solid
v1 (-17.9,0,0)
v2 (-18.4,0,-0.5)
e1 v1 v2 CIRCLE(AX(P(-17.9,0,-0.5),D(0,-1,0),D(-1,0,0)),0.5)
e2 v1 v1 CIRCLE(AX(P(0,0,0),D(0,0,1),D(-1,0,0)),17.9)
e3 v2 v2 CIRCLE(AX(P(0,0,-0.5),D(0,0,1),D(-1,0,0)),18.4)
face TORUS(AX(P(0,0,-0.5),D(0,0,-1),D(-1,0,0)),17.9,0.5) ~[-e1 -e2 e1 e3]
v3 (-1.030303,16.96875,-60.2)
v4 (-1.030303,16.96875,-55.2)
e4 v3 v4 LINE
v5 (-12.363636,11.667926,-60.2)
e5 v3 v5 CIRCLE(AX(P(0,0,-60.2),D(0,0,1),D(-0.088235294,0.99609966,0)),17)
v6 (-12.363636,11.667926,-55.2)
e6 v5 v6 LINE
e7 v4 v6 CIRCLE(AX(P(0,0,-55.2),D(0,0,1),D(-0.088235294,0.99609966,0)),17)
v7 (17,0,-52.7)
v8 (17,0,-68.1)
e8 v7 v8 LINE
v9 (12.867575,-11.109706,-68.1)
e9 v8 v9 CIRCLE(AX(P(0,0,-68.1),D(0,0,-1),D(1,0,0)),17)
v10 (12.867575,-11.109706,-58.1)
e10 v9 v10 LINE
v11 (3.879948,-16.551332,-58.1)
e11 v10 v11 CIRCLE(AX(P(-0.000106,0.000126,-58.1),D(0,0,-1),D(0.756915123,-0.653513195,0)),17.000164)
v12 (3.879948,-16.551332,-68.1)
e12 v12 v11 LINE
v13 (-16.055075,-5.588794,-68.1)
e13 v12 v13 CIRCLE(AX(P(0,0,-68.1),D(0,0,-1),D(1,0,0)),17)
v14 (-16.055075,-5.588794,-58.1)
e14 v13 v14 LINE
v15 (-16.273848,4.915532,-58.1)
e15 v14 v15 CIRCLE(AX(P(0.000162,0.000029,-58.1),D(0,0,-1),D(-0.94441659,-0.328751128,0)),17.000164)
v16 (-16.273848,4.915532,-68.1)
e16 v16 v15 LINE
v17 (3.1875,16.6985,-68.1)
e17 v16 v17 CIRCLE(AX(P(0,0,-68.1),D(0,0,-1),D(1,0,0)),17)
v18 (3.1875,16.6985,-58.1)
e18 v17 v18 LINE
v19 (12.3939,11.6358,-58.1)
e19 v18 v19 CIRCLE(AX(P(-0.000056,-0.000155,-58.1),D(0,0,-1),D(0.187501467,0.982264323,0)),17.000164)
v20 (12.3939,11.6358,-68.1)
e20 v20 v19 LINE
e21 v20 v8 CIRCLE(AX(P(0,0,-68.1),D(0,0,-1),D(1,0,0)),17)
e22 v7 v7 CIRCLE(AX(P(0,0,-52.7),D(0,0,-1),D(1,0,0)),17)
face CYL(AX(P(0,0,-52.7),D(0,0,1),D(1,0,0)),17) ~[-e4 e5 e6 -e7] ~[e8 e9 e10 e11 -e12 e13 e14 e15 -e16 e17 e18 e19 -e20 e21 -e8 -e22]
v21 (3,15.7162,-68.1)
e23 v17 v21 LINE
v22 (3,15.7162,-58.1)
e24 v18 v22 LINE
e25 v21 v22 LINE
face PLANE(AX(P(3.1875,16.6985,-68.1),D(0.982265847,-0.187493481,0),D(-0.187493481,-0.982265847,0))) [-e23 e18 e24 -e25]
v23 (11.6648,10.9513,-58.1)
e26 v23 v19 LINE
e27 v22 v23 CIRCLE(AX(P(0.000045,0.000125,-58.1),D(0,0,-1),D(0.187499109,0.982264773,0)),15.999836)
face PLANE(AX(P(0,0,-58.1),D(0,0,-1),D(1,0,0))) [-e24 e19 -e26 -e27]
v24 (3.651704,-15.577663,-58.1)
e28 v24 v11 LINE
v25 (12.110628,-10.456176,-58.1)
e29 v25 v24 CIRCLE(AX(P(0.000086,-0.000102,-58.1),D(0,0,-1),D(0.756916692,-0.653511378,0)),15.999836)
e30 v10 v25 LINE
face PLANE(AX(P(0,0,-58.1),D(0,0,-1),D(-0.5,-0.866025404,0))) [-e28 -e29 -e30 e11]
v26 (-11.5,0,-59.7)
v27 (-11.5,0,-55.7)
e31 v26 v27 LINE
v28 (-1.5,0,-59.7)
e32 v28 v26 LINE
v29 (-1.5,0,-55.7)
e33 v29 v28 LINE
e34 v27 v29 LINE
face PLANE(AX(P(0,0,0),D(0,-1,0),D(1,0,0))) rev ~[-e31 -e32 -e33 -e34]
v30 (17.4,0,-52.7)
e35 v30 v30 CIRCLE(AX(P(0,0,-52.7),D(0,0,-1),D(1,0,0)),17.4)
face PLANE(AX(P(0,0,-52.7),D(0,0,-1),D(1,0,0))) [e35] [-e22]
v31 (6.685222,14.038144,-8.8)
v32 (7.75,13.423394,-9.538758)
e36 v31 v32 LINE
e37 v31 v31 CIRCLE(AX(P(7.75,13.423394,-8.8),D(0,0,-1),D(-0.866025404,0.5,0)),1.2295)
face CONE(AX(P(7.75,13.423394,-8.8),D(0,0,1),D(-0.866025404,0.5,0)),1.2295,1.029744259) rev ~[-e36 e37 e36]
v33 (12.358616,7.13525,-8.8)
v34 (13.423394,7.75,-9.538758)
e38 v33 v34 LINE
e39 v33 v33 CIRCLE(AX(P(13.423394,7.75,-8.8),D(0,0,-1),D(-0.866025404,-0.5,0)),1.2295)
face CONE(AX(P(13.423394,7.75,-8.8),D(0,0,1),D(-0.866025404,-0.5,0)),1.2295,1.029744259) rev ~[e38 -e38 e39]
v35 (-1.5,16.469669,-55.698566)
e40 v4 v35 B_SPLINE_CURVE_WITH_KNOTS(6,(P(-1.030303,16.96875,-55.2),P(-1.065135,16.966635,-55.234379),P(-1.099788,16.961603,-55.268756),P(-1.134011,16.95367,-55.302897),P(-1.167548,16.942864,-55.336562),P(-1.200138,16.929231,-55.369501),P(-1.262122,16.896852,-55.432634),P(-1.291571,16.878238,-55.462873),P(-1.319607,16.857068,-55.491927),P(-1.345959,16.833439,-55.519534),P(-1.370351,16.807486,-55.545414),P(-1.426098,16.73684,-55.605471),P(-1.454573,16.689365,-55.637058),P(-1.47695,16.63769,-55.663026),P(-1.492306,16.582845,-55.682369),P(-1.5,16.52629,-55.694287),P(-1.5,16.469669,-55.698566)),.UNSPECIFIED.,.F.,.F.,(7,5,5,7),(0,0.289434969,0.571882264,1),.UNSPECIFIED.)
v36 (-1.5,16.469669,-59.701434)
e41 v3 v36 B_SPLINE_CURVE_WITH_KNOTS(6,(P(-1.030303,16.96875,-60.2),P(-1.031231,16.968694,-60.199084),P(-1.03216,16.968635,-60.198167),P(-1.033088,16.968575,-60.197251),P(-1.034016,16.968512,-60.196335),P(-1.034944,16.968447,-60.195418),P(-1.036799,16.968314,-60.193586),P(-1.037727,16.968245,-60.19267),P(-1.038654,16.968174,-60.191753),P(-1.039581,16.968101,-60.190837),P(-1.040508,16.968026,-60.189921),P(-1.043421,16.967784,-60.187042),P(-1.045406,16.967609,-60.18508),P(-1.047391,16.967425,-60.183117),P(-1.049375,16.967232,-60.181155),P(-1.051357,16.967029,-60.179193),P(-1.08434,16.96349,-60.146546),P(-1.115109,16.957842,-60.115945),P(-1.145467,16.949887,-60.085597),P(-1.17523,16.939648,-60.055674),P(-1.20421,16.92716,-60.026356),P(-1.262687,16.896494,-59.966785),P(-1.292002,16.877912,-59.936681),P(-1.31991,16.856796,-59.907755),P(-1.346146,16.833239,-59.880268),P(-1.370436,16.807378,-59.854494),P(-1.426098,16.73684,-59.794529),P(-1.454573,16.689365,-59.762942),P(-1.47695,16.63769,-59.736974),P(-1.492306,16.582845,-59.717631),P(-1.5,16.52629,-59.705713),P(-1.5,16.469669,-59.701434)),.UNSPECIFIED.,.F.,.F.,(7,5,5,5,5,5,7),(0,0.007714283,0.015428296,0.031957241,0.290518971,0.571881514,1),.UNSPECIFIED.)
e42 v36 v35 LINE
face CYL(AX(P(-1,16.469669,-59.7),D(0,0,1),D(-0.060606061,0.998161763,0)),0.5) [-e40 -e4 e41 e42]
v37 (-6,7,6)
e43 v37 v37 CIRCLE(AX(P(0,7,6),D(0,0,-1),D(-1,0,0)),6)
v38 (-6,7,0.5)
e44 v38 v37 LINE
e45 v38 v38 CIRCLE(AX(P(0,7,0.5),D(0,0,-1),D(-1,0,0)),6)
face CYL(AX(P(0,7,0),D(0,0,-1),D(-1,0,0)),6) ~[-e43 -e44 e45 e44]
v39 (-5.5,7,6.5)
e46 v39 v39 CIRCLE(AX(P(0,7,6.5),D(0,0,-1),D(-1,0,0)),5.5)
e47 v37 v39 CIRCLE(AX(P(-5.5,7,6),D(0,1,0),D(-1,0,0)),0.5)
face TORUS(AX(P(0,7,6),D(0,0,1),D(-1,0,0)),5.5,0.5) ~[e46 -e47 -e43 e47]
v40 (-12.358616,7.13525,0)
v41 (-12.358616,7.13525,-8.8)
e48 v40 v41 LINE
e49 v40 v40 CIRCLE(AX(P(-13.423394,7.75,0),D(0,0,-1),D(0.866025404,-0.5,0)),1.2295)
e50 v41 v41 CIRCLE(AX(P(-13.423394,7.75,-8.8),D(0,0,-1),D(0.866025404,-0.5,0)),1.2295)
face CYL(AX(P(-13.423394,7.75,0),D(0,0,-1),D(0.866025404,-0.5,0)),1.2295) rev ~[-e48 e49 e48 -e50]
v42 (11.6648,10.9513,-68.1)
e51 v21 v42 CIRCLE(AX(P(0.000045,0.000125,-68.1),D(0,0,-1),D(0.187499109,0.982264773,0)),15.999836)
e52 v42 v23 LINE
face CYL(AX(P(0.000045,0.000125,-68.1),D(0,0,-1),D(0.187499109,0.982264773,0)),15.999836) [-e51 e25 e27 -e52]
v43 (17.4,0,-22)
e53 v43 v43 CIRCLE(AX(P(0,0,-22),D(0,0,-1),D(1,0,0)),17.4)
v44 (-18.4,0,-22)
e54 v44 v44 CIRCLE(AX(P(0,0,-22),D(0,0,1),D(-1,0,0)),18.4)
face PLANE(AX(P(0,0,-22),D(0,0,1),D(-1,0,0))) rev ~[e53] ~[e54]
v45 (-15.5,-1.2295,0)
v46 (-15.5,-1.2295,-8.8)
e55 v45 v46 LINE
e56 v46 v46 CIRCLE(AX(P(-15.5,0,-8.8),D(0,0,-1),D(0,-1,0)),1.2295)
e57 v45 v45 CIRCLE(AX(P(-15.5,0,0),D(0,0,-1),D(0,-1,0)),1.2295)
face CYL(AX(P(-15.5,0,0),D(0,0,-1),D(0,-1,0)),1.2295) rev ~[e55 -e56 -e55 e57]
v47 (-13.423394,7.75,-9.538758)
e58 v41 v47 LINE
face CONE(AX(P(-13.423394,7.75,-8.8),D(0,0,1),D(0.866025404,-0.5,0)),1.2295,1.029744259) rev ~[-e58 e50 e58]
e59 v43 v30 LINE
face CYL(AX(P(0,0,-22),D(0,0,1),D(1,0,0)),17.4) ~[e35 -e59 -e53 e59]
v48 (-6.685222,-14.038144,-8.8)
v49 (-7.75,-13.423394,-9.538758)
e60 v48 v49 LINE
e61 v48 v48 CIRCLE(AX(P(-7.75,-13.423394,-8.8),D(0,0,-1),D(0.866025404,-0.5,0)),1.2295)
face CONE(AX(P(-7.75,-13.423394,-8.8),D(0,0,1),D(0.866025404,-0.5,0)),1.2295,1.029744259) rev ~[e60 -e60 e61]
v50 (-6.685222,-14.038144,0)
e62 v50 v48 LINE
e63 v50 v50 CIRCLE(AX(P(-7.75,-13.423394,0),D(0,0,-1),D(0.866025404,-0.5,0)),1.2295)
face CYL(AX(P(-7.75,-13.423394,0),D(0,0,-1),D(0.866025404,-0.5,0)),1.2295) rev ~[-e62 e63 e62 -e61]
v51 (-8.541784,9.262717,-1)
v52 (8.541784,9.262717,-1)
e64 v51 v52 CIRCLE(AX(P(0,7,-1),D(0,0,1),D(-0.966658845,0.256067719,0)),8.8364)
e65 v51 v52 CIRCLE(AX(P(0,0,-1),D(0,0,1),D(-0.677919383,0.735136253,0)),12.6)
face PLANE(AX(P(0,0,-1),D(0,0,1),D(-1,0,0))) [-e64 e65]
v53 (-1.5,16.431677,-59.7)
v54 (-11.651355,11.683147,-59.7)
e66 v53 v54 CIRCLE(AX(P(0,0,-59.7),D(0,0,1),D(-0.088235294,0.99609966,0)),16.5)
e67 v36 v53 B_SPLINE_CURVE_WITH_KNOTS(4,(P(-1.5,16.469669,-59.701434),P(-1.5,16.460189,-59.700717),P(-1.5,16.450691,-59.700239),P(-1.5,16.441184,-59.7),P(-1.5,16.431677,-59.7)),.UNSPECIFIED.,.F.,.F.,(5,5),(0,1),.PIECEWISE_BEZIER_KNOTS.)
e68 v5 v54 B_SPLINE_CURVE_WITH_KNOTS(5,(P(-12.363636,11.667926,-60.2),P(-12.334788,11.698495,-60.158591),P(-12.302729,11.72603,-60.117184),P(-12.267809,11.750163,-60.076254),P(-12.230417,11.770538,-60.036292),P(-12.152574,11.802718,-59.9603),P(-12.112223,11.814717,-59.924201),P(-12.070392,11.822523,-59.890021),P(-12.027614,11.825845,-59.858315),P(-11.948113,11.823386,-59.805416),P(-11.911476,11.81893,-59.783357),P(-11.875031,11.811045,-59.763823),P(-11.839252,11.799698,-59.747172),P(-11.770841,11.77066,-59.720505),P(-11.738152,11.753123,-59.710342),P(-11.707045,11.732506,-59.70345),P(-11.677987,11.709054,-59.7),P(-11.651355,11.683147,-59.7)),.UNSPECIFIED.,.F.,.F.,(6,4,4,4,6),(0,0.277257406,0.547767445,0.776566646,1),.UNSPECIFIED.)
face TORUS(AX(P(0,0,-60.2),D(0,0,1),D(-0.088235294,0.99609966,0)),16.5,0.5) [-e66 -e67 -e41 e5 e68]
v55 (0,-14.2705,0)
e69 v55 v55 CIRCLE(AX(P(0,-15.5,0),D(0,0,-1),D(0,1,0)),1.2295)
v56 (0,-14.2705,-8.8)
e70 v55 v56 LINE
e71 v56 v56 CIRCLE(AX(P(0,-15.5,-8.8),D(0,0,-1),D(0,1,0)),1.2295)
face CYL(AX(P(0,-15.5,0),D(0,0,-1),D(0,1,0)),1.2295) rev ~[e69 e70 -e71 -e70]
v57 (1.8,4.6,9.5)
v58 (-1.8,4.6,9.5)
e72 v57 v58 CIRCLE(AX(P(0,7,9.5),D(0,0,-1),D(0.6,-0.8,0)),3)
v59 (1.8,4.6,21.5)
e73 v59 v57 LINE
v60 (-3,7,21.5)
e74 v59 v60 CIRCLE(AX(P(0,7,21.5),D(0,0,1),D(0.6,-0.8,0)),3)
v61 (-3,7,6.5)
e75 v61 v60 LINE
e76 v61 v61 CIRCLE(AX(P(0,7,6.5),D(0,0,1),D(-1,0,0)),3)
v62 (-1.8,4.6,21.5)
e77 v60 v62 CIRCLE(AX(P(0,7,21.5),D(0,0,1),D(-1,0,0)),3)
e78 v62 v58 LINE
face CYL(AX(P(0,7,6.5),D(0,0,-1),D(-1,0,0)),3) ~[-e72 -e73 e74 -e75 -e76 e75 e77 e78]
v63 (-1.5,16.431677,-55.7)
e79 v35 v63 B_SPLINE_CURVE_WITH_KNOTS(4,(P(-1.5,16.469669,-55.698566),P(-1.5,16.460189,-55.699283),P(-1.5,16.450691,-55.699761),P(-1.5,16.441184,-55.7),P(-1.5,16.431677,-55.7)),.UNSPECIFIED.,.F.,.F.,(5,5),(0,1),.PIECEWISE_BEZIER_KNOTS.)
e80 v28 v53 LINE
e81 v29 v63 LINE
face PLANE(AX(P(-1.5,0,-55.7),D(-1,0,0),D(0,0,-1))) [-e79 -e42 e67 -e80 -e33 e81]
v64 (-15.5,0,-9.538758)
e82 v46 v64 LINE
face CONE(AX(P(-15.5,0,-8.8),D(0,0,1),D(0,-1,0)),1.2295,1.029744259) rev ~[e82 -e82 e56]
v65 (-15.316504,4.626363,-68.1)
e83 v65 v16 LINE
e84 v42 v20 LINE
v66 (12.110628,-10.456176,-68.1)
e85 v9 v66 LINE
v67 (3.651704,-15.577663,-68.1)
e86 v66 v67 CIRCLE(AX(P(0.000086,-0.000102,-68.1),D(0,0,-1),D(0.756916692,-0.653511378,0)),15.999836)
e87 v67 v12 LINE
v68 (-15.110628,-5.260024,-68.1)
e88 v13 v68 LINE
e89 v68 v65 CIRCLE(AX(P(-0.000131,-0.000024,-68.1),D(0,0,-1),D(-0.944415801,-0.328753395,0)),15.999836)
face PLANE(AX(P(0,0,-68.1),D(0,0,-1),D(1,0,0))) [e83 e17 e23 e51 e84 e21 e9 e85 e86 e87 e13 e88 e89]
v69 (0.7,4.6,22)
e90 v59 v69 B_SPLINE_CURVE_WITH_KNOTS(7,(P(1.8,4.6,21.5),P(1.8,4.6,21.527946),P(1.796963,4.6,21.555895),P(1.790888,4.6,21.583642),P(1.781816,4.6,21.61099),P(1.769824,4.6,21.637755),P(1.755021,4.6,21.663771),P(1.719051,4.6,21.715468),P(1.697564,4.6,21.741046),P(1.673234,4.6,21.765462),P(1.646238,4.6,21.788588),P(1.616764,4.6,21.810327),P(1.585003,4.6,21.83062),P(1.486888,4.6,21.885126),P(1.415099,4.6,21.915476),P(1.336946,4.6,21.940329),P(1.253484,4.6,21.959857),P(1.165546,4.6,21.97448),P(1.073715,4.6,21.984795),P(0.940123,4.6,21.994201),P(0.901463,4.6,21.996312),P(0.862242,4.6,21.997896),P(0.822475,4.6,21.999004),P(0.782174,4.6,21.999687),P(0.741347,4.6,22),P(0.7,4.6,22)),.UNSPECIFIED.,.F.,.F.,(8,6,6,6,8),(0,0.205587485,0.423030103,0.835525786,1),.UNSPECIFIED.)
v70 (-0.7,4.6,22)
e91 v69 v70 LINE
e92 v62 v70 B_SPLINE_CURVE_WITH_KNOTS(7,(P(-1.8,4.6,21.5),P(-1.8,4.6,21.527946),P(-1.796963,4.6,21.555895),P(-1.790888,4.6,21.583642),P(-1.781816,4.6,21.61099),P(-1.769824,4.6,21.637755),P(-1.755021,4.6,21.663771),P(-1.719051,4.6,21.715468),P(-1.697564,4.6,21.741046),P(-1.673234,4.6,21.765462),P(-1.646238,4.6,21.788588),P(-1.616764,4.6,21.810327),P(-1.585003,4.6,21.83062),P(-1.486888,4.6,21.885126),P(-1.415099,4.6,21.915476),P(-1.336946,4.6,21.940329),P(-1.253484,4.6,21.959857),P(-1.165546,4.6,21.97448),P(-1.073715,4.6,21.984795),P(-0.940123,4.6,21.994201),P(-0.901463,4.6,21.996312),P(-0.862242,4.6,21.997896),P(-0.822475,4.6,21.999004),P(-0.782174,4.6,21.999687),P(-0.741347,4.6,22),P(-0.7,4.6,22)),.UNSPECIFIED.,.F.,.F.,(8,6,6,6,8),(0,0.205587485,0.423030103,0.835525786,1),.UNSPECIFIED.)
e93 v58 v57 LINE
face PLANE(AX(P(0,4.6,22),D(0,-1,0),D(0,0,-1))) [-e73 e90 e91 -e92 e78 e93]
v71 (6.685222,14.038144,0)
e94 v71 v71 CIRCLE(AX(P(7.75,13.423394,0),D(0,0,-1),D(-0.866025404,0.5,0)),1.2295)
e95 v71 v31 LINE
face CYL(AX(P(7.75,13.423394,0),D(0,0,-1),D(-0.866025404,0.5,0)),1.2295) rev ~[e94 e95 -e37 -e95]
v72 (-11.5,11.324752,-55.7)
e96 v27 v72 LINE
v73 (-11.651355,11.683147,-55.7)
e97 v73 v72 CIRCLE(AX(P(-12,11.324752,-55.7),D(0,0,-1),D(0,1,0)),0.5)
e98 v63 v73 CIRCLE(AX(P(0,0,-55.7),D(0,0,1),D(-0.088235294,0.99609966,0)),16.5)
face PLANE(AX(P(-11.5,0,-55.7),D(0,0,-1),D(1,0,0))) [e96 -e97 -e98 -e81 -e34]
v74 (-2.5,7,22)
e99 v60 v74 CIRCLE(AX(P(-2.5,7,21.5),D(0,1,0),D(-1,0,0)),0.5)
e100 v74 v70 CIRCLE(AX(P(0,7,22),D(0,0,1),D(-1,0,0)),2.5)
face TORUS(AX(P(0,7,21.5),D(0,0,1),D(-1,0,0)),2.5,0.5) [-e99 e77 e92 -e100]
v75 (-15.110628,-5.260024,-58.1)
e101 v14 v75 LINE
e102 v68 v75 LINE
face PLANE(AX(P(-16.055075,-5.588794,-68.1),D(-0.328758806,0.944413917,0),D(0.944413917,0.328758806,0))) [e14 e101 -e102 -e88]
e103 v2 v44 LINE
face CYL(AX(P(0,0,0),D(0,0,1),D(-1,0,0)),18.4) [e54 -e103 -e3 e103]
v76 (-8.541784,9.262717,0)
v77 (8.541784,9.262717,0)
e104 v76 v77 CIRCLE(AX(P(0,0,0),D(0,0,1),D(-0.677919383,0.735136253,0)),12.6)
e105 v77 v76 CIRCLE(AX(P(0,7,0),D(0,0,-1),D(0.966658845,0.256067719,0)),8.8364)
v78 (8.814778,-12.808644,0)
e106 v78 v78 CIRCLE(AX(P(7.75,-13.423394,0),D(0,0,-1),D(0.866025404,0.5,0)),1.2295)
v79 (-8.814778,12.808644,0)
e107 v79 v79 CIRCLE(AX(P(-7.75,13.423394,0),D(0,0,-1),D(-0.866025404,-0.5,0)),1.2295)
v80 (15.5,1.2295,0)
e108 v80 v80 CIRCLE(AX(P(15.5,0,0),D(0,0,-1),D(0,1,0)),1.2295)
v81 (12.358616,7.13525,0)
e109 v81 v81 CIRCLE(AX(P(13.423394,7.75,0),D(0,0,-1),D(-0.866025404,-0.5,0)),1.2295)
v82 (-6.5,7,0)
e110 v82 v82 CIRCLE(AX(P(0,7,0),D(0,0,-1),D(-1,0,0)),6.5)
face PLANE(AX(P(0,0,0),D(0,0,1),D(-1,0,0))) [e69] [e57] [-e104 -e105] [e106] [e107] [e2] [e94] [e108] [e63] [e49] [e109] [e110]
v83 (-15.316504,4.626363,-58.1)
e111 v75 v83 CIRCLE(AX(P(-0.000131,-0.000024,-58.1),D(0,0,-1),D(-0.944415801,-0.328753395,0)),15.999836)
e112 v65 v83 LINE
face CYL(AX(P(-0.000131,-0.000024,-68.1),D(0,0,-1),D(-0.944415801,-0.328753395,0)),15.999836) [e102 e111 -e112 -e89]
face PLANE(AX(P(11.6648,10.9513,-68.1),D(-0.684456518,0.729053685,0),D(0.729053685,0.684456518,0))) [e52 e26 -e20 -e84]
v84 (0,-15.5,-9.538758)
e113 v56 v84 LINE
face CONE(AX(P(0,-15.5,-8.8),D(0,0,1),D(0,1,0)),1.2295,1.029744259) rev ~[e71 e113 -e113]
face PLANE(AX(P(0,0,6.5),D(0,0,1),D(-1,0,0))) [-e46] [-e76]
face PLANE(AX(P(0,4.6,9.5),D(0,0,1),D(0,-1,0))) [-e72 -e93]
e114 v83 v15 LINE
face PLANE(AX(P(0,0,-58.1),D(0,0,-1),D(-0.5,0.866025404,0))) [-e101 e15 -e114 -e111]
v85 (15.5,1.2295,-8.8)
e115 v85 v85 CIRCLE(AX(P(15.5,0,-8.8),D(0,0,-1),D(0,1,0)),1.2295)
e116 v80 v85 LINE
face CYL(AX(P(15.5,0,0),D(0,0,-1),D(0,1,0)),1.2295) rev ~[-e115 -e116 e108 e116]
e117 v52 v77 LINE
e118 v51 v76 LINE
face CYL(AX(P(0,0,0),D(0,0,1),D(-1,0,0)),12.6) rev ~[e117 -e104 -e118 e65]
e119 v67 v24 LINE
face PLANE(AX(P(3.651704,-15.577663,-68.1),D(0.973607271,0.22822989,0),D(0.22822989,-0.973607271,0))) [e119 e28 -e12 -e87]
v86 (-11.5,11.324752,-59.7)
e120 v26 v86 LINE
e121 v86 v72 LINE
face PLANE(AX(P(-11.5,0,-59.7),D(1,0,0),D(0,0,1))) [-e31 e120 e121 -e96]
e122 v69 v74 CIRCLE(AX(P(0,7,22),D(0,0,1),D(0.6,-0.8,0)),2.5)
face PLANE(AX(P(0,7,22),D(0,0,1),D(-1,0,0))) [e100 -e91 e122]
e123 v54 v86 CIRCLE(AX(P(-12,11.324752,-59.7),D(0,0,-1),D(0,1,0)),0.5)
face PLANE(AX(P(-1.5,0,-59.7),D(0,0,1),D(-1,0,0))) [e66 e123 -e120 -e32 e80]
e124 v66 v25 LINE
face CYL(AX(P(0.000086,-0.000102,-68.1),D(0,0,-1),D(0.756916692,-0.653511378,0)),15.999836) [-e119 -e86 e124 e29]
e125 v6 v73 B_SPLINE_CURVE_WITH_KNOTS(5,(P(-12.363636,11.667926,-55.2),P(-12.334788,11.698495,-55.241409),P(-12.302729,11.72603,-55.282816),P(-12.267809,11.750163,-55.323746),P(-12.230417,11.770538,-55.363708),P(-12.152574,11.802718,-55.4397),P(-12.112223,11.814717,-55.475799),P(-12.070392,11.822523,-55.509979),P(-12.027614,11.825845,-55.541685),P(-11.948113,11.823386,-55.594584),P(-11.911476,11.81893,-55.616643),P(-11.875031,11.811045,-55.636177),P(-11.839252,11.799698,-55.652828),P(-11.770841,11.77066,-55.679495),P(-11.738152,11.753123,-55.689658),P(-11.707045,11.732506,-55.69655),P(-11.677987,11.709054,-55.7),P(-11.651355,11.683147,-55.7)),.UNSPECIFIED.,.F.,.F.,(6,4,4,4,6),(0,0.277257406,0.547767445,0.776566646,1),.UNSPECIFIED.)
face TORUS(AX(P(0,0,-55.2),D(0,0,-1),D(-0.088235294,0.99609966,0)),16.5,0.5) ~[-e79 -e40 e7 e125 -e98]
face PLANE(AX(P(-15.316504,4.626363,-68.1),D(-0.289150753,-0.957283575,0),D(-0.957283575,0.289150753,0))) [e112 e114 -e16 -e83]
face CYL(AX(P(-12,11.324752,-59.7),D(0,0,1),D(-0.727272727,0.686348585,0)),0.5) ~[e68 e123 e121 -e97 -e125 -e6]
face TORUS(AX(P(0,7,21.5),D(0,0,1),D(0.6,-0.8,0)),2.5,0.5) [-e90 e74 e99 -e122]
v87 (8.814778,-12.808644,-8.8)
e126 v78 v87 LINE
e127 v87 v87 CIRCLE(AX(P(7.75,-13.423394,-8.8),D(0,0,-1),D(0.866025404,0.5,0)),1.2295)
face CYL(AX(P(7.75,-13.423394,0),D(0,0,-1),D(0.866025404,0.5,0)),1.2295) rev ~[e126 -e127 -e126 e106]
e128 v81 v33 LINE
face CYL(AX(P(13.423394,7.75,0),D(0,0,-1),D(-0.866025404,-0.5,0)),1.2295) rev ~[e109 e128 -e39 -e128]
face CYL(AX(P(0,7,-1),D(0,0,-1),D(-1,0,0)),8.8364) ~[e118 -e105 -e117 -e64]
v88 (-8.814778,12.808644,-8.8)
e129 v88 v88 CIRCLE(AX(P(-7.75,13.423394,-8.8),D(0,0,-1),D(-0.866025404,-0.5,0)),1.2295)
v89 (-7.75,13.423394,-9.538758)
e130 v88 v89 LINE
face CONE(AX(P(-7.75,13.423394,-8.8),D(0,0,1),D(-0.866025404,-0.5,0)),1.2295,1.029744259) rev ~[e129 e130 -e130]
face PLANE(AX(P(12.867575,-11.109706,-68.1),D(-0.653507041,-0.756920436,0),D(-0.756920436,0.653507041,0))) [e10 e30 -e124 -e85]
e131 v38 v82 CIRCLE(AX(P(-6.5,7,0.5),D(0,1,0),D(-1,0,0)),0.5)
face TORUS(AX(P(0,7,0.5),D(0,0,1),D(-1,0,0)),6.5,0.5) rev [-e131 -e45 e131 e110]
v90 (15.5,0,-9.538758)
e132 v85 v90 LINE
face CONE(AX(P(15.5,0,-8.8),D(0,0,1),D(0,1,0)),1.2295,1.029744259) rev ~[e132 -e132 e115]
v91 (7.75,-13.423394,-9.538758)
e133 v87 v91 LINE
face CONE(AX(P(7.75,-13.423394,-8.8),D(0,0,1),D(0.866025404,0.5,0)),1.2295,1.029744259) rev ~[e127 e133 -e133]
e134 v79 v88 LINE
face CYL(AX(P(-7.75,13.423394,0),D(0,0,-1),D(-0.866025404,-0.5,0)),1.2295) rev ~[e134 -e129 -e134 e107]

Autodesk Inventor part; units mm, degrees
ref_plane "YZ Plane" through (0, 0, 0) normal (1, 0, 0) x (0, 1, 0)
ref_plane "XZ Plane" through (0, 0, 0) normal (0, 1, 0) x (-1, 0, 0)
ref_plane "XY Plane" through (0, 0, 0) normal (0, 0, 1) x (1, 0, 0)
sketch "Szkic1" plane through (0, 0, 0) normal (0, 0, 1) x (1, 0, 0)
  circle A0 centre (0, 0) radius 18.4
  dimension "d0" = 36.8
extrude "Wyciągnięcie proste1" add sketch "Szkic1" against normal blind 22
sketch "Szkic2" plane through (0, 0, -22) normal (0, 0, -1) x (-1, 0, 0)
  circle A0 centre (0, 0) radius 17.4
  dimension "d3" = 34.8
extrude "Wyciągnięcie proste2" add sketch "Szkic2" along normal blind 30.7
sketch "Szkic3" plane through (0, 0, -52.7) normal (0, 0, -1) x (-1, 0, 0)
  circle A0 centre (0, 0) radius 17
  dimension "d6" = 34
extrude "Wyciągnięcie proste3" add sketch "Szkic3" along normal blind 15.4
sketch "Szkic4" plane through (0, 0, 0) normal (0, 0, 1) x (1, 0, 0)
  circle A0 centre (0, 0) radius 12.6
  dimension "d9" = 25.2
extrude "Wyciągnięcie proste4" cut sketch "Szkic4" against normal blind 1
sketch "Szkic5" plane through (0, 0, 0) normal (0, 0, 1) x (1, 0, 0)
  line L0 (0, 0) -> (0, 15.5) construction
  dimension "d12" = 15.5
hole "Otwór1" at (0, 15.5, 0) direction (0, 0, -1) diameter 2.459 depth 8.8 tip angle 118 thread size "M3x0.5" class "6H" standard "ANSI Metric M Profile"
pattern_circular "Szyk kołowy1" count 3 over 360 about axis through (0, 0, 0) along (0, 0, -1) of "Otwór1"
sketch "Szkic6" plane through (0, 0, 0) normal (0, 0, 1) x (1, 0, 0)
  line L0 (0, 0) -> (-15.5, 0) construction
  dimension "d23" = 15.5
hole "Otwór2" at (-15.5, 0, 0) direction (0, 0, -1) diameter 2.459 depth 8.8 tip angle 118 thread size "M3x0.5" class "6H" standard "ANSI Metric M Profile"
pattern_circular "Szyk kołowy2" count 6 over 360 about axis through (0, 0, 0) along (0, 0, -1) of "Otwór2"
sketch "Szkic7" plane through (0, 0, -1) normal (0, 0, 1) x (1, 0, 0)
  line L0 (0, 0) -> (0, -7) construction
  circle A0 centre (0, -7) radius 8.8364
  circle A1 centre (-7.75, -13.4234) radius 1.2295 construction
  dimension "d34" = 7
extrude "Wyciągnięcie proste5" add sketch "Szkic7" along normal blind 1
sketch "Szkic8" plane through (0, 0, 0) normal (0, 0, 1) x (1, 0, 0)
  line L0 (0, 0) -> (0, -7)
  circle A0 centre (0, -7) radius 6
  dimension "d37" = 7
  dimension "d38" = 12
extrude "Wyciągnięcie proste6" add sketch "Szkic8" along normal blind 6.5
sketch "Szkic9" plane through (0, -7, 6.5) normal (0, 0, 1) x (1, 0, 0)
  circle A0 centre (0, 0) radius 6 projected
  circle A1 centre (0, 0) radius 3
  point P0 (0, 7)
  dimension "d41" = 6
extrude "Wyciągnięcie proste7" add sketch "Szkic9" along normal blind 15.5 contours A1
sketch "Szkic10" plane through (0, 0, 0) normal (1, 0, 0) x (0, 1, 0)
  line L0 (-10, 6.5) -> (-10, 22) projected
  line L1 (-4, 22) -> (-10, 22) projected
  line L2 (-4, 22) -> (-4.6, 22)
  line L3 (-4.6, 22) -> (-4.6, 9.5)
  line L4 (-4.6, 9.5) -> (-4, 9.5)
  line L5 (-4, 9.5) -> (-4, 22)
  point P0 (0, 0)
  dimension "d44" = 0.6
  dimension "d45" = 12.5
extrude "Wyciągnięcie proste8" cut sketch "Szkic10" along normal mid plane 4.25
sketch "Szkic13" plane through (0, 0, -68.1) normal (0, 0, -1) x (-1, 0, 0)
  arc A0 (3, -15.7162) -> (11.6648, -10.9513) centre (0, 0) ccw
  line L0 (0, 0) -> (11.6648, -10.9513) construction
  line L1 (0, 0) -> (3, -15.7162) construction
  arc A1 (3.1875, -16.6985) -> (12.3939, -11.6358) centre (0, 0) ccw
  line L2 (11.6648, -10.9513) -> (12.3939, -11.6358)
  line L3 (3.1875, -16.6985) -> (3, -15.7162)
  dimension "d55" = 16
  dimension "d56" = 36
  dimension "d57" = 3
  dimension "d58" = 17
  dimension "d59" = 36
extrude "Wyciągnięcie proste10" cut sketch "Szkic13" against normal blind 10
pattern_circular "Szyk kołowy4" count 3 over 360 about axis through (0, 0, -52.7) along (0, 0, -1) of "Wyciągnięcie proste10"
sketch "Szkic14" plane through (0, 0, 0) normal (0, 1, 0) x (-1, 0, 0)
  line L0 (17, -52.7) -> (-17, -52.7) construction
  line L1 (0, -86.12) -> (0, 40.02) construction
  line L2 (-1.5, -59.7) -> (-11.5, -59.7)
  line L3 (-11.5, -59.7) -> (-11.5, -55.7)
  line L4 (-11.5, -55.7) -> (-1.5, -55.7)
  line L5 (-1.5, -55.7) -> (-1.5, -59.7)
  point P0 (0, 0)
  dimension "d65" = 10
  dimension "d66" = 4
  dimension "d67" = 1.5
  dimension "d68" = 3
extrude "Wyciągnięcie proste11" cut sketch "Szkic14" against normal through all
fillet "Zaokrąglenie1" radius 0.5 1 edges at (-6, -7, 6.5)
fillet "Zaokrąglenie2" radius 0.5 2 edges at (-18.4, 0, 0) (-6, -7, 0)
fillet "Zaokrąglenie3" radius 0.5 4 edges at (6.8644, -15.5525, -59.7) (6.8644, -15.5525, -55.7) (11.5, -12.52, -57.7) (1.5, -16.9337, -57.7)
fillet "Zaokrąglenie4" radius 0.5 2 edges at (2.6833, -5.6584, 22) (-1.3416, -9.6833, 22)
move or copy body "Przesuń bryłę1" bodies to move or copy 1 copy no rotation origin (0, 0, 0) rotation axis (0, 0, 1) rotation angle 180
properties part number "bepf_silnik_dc" material "Aluminium 6061"
